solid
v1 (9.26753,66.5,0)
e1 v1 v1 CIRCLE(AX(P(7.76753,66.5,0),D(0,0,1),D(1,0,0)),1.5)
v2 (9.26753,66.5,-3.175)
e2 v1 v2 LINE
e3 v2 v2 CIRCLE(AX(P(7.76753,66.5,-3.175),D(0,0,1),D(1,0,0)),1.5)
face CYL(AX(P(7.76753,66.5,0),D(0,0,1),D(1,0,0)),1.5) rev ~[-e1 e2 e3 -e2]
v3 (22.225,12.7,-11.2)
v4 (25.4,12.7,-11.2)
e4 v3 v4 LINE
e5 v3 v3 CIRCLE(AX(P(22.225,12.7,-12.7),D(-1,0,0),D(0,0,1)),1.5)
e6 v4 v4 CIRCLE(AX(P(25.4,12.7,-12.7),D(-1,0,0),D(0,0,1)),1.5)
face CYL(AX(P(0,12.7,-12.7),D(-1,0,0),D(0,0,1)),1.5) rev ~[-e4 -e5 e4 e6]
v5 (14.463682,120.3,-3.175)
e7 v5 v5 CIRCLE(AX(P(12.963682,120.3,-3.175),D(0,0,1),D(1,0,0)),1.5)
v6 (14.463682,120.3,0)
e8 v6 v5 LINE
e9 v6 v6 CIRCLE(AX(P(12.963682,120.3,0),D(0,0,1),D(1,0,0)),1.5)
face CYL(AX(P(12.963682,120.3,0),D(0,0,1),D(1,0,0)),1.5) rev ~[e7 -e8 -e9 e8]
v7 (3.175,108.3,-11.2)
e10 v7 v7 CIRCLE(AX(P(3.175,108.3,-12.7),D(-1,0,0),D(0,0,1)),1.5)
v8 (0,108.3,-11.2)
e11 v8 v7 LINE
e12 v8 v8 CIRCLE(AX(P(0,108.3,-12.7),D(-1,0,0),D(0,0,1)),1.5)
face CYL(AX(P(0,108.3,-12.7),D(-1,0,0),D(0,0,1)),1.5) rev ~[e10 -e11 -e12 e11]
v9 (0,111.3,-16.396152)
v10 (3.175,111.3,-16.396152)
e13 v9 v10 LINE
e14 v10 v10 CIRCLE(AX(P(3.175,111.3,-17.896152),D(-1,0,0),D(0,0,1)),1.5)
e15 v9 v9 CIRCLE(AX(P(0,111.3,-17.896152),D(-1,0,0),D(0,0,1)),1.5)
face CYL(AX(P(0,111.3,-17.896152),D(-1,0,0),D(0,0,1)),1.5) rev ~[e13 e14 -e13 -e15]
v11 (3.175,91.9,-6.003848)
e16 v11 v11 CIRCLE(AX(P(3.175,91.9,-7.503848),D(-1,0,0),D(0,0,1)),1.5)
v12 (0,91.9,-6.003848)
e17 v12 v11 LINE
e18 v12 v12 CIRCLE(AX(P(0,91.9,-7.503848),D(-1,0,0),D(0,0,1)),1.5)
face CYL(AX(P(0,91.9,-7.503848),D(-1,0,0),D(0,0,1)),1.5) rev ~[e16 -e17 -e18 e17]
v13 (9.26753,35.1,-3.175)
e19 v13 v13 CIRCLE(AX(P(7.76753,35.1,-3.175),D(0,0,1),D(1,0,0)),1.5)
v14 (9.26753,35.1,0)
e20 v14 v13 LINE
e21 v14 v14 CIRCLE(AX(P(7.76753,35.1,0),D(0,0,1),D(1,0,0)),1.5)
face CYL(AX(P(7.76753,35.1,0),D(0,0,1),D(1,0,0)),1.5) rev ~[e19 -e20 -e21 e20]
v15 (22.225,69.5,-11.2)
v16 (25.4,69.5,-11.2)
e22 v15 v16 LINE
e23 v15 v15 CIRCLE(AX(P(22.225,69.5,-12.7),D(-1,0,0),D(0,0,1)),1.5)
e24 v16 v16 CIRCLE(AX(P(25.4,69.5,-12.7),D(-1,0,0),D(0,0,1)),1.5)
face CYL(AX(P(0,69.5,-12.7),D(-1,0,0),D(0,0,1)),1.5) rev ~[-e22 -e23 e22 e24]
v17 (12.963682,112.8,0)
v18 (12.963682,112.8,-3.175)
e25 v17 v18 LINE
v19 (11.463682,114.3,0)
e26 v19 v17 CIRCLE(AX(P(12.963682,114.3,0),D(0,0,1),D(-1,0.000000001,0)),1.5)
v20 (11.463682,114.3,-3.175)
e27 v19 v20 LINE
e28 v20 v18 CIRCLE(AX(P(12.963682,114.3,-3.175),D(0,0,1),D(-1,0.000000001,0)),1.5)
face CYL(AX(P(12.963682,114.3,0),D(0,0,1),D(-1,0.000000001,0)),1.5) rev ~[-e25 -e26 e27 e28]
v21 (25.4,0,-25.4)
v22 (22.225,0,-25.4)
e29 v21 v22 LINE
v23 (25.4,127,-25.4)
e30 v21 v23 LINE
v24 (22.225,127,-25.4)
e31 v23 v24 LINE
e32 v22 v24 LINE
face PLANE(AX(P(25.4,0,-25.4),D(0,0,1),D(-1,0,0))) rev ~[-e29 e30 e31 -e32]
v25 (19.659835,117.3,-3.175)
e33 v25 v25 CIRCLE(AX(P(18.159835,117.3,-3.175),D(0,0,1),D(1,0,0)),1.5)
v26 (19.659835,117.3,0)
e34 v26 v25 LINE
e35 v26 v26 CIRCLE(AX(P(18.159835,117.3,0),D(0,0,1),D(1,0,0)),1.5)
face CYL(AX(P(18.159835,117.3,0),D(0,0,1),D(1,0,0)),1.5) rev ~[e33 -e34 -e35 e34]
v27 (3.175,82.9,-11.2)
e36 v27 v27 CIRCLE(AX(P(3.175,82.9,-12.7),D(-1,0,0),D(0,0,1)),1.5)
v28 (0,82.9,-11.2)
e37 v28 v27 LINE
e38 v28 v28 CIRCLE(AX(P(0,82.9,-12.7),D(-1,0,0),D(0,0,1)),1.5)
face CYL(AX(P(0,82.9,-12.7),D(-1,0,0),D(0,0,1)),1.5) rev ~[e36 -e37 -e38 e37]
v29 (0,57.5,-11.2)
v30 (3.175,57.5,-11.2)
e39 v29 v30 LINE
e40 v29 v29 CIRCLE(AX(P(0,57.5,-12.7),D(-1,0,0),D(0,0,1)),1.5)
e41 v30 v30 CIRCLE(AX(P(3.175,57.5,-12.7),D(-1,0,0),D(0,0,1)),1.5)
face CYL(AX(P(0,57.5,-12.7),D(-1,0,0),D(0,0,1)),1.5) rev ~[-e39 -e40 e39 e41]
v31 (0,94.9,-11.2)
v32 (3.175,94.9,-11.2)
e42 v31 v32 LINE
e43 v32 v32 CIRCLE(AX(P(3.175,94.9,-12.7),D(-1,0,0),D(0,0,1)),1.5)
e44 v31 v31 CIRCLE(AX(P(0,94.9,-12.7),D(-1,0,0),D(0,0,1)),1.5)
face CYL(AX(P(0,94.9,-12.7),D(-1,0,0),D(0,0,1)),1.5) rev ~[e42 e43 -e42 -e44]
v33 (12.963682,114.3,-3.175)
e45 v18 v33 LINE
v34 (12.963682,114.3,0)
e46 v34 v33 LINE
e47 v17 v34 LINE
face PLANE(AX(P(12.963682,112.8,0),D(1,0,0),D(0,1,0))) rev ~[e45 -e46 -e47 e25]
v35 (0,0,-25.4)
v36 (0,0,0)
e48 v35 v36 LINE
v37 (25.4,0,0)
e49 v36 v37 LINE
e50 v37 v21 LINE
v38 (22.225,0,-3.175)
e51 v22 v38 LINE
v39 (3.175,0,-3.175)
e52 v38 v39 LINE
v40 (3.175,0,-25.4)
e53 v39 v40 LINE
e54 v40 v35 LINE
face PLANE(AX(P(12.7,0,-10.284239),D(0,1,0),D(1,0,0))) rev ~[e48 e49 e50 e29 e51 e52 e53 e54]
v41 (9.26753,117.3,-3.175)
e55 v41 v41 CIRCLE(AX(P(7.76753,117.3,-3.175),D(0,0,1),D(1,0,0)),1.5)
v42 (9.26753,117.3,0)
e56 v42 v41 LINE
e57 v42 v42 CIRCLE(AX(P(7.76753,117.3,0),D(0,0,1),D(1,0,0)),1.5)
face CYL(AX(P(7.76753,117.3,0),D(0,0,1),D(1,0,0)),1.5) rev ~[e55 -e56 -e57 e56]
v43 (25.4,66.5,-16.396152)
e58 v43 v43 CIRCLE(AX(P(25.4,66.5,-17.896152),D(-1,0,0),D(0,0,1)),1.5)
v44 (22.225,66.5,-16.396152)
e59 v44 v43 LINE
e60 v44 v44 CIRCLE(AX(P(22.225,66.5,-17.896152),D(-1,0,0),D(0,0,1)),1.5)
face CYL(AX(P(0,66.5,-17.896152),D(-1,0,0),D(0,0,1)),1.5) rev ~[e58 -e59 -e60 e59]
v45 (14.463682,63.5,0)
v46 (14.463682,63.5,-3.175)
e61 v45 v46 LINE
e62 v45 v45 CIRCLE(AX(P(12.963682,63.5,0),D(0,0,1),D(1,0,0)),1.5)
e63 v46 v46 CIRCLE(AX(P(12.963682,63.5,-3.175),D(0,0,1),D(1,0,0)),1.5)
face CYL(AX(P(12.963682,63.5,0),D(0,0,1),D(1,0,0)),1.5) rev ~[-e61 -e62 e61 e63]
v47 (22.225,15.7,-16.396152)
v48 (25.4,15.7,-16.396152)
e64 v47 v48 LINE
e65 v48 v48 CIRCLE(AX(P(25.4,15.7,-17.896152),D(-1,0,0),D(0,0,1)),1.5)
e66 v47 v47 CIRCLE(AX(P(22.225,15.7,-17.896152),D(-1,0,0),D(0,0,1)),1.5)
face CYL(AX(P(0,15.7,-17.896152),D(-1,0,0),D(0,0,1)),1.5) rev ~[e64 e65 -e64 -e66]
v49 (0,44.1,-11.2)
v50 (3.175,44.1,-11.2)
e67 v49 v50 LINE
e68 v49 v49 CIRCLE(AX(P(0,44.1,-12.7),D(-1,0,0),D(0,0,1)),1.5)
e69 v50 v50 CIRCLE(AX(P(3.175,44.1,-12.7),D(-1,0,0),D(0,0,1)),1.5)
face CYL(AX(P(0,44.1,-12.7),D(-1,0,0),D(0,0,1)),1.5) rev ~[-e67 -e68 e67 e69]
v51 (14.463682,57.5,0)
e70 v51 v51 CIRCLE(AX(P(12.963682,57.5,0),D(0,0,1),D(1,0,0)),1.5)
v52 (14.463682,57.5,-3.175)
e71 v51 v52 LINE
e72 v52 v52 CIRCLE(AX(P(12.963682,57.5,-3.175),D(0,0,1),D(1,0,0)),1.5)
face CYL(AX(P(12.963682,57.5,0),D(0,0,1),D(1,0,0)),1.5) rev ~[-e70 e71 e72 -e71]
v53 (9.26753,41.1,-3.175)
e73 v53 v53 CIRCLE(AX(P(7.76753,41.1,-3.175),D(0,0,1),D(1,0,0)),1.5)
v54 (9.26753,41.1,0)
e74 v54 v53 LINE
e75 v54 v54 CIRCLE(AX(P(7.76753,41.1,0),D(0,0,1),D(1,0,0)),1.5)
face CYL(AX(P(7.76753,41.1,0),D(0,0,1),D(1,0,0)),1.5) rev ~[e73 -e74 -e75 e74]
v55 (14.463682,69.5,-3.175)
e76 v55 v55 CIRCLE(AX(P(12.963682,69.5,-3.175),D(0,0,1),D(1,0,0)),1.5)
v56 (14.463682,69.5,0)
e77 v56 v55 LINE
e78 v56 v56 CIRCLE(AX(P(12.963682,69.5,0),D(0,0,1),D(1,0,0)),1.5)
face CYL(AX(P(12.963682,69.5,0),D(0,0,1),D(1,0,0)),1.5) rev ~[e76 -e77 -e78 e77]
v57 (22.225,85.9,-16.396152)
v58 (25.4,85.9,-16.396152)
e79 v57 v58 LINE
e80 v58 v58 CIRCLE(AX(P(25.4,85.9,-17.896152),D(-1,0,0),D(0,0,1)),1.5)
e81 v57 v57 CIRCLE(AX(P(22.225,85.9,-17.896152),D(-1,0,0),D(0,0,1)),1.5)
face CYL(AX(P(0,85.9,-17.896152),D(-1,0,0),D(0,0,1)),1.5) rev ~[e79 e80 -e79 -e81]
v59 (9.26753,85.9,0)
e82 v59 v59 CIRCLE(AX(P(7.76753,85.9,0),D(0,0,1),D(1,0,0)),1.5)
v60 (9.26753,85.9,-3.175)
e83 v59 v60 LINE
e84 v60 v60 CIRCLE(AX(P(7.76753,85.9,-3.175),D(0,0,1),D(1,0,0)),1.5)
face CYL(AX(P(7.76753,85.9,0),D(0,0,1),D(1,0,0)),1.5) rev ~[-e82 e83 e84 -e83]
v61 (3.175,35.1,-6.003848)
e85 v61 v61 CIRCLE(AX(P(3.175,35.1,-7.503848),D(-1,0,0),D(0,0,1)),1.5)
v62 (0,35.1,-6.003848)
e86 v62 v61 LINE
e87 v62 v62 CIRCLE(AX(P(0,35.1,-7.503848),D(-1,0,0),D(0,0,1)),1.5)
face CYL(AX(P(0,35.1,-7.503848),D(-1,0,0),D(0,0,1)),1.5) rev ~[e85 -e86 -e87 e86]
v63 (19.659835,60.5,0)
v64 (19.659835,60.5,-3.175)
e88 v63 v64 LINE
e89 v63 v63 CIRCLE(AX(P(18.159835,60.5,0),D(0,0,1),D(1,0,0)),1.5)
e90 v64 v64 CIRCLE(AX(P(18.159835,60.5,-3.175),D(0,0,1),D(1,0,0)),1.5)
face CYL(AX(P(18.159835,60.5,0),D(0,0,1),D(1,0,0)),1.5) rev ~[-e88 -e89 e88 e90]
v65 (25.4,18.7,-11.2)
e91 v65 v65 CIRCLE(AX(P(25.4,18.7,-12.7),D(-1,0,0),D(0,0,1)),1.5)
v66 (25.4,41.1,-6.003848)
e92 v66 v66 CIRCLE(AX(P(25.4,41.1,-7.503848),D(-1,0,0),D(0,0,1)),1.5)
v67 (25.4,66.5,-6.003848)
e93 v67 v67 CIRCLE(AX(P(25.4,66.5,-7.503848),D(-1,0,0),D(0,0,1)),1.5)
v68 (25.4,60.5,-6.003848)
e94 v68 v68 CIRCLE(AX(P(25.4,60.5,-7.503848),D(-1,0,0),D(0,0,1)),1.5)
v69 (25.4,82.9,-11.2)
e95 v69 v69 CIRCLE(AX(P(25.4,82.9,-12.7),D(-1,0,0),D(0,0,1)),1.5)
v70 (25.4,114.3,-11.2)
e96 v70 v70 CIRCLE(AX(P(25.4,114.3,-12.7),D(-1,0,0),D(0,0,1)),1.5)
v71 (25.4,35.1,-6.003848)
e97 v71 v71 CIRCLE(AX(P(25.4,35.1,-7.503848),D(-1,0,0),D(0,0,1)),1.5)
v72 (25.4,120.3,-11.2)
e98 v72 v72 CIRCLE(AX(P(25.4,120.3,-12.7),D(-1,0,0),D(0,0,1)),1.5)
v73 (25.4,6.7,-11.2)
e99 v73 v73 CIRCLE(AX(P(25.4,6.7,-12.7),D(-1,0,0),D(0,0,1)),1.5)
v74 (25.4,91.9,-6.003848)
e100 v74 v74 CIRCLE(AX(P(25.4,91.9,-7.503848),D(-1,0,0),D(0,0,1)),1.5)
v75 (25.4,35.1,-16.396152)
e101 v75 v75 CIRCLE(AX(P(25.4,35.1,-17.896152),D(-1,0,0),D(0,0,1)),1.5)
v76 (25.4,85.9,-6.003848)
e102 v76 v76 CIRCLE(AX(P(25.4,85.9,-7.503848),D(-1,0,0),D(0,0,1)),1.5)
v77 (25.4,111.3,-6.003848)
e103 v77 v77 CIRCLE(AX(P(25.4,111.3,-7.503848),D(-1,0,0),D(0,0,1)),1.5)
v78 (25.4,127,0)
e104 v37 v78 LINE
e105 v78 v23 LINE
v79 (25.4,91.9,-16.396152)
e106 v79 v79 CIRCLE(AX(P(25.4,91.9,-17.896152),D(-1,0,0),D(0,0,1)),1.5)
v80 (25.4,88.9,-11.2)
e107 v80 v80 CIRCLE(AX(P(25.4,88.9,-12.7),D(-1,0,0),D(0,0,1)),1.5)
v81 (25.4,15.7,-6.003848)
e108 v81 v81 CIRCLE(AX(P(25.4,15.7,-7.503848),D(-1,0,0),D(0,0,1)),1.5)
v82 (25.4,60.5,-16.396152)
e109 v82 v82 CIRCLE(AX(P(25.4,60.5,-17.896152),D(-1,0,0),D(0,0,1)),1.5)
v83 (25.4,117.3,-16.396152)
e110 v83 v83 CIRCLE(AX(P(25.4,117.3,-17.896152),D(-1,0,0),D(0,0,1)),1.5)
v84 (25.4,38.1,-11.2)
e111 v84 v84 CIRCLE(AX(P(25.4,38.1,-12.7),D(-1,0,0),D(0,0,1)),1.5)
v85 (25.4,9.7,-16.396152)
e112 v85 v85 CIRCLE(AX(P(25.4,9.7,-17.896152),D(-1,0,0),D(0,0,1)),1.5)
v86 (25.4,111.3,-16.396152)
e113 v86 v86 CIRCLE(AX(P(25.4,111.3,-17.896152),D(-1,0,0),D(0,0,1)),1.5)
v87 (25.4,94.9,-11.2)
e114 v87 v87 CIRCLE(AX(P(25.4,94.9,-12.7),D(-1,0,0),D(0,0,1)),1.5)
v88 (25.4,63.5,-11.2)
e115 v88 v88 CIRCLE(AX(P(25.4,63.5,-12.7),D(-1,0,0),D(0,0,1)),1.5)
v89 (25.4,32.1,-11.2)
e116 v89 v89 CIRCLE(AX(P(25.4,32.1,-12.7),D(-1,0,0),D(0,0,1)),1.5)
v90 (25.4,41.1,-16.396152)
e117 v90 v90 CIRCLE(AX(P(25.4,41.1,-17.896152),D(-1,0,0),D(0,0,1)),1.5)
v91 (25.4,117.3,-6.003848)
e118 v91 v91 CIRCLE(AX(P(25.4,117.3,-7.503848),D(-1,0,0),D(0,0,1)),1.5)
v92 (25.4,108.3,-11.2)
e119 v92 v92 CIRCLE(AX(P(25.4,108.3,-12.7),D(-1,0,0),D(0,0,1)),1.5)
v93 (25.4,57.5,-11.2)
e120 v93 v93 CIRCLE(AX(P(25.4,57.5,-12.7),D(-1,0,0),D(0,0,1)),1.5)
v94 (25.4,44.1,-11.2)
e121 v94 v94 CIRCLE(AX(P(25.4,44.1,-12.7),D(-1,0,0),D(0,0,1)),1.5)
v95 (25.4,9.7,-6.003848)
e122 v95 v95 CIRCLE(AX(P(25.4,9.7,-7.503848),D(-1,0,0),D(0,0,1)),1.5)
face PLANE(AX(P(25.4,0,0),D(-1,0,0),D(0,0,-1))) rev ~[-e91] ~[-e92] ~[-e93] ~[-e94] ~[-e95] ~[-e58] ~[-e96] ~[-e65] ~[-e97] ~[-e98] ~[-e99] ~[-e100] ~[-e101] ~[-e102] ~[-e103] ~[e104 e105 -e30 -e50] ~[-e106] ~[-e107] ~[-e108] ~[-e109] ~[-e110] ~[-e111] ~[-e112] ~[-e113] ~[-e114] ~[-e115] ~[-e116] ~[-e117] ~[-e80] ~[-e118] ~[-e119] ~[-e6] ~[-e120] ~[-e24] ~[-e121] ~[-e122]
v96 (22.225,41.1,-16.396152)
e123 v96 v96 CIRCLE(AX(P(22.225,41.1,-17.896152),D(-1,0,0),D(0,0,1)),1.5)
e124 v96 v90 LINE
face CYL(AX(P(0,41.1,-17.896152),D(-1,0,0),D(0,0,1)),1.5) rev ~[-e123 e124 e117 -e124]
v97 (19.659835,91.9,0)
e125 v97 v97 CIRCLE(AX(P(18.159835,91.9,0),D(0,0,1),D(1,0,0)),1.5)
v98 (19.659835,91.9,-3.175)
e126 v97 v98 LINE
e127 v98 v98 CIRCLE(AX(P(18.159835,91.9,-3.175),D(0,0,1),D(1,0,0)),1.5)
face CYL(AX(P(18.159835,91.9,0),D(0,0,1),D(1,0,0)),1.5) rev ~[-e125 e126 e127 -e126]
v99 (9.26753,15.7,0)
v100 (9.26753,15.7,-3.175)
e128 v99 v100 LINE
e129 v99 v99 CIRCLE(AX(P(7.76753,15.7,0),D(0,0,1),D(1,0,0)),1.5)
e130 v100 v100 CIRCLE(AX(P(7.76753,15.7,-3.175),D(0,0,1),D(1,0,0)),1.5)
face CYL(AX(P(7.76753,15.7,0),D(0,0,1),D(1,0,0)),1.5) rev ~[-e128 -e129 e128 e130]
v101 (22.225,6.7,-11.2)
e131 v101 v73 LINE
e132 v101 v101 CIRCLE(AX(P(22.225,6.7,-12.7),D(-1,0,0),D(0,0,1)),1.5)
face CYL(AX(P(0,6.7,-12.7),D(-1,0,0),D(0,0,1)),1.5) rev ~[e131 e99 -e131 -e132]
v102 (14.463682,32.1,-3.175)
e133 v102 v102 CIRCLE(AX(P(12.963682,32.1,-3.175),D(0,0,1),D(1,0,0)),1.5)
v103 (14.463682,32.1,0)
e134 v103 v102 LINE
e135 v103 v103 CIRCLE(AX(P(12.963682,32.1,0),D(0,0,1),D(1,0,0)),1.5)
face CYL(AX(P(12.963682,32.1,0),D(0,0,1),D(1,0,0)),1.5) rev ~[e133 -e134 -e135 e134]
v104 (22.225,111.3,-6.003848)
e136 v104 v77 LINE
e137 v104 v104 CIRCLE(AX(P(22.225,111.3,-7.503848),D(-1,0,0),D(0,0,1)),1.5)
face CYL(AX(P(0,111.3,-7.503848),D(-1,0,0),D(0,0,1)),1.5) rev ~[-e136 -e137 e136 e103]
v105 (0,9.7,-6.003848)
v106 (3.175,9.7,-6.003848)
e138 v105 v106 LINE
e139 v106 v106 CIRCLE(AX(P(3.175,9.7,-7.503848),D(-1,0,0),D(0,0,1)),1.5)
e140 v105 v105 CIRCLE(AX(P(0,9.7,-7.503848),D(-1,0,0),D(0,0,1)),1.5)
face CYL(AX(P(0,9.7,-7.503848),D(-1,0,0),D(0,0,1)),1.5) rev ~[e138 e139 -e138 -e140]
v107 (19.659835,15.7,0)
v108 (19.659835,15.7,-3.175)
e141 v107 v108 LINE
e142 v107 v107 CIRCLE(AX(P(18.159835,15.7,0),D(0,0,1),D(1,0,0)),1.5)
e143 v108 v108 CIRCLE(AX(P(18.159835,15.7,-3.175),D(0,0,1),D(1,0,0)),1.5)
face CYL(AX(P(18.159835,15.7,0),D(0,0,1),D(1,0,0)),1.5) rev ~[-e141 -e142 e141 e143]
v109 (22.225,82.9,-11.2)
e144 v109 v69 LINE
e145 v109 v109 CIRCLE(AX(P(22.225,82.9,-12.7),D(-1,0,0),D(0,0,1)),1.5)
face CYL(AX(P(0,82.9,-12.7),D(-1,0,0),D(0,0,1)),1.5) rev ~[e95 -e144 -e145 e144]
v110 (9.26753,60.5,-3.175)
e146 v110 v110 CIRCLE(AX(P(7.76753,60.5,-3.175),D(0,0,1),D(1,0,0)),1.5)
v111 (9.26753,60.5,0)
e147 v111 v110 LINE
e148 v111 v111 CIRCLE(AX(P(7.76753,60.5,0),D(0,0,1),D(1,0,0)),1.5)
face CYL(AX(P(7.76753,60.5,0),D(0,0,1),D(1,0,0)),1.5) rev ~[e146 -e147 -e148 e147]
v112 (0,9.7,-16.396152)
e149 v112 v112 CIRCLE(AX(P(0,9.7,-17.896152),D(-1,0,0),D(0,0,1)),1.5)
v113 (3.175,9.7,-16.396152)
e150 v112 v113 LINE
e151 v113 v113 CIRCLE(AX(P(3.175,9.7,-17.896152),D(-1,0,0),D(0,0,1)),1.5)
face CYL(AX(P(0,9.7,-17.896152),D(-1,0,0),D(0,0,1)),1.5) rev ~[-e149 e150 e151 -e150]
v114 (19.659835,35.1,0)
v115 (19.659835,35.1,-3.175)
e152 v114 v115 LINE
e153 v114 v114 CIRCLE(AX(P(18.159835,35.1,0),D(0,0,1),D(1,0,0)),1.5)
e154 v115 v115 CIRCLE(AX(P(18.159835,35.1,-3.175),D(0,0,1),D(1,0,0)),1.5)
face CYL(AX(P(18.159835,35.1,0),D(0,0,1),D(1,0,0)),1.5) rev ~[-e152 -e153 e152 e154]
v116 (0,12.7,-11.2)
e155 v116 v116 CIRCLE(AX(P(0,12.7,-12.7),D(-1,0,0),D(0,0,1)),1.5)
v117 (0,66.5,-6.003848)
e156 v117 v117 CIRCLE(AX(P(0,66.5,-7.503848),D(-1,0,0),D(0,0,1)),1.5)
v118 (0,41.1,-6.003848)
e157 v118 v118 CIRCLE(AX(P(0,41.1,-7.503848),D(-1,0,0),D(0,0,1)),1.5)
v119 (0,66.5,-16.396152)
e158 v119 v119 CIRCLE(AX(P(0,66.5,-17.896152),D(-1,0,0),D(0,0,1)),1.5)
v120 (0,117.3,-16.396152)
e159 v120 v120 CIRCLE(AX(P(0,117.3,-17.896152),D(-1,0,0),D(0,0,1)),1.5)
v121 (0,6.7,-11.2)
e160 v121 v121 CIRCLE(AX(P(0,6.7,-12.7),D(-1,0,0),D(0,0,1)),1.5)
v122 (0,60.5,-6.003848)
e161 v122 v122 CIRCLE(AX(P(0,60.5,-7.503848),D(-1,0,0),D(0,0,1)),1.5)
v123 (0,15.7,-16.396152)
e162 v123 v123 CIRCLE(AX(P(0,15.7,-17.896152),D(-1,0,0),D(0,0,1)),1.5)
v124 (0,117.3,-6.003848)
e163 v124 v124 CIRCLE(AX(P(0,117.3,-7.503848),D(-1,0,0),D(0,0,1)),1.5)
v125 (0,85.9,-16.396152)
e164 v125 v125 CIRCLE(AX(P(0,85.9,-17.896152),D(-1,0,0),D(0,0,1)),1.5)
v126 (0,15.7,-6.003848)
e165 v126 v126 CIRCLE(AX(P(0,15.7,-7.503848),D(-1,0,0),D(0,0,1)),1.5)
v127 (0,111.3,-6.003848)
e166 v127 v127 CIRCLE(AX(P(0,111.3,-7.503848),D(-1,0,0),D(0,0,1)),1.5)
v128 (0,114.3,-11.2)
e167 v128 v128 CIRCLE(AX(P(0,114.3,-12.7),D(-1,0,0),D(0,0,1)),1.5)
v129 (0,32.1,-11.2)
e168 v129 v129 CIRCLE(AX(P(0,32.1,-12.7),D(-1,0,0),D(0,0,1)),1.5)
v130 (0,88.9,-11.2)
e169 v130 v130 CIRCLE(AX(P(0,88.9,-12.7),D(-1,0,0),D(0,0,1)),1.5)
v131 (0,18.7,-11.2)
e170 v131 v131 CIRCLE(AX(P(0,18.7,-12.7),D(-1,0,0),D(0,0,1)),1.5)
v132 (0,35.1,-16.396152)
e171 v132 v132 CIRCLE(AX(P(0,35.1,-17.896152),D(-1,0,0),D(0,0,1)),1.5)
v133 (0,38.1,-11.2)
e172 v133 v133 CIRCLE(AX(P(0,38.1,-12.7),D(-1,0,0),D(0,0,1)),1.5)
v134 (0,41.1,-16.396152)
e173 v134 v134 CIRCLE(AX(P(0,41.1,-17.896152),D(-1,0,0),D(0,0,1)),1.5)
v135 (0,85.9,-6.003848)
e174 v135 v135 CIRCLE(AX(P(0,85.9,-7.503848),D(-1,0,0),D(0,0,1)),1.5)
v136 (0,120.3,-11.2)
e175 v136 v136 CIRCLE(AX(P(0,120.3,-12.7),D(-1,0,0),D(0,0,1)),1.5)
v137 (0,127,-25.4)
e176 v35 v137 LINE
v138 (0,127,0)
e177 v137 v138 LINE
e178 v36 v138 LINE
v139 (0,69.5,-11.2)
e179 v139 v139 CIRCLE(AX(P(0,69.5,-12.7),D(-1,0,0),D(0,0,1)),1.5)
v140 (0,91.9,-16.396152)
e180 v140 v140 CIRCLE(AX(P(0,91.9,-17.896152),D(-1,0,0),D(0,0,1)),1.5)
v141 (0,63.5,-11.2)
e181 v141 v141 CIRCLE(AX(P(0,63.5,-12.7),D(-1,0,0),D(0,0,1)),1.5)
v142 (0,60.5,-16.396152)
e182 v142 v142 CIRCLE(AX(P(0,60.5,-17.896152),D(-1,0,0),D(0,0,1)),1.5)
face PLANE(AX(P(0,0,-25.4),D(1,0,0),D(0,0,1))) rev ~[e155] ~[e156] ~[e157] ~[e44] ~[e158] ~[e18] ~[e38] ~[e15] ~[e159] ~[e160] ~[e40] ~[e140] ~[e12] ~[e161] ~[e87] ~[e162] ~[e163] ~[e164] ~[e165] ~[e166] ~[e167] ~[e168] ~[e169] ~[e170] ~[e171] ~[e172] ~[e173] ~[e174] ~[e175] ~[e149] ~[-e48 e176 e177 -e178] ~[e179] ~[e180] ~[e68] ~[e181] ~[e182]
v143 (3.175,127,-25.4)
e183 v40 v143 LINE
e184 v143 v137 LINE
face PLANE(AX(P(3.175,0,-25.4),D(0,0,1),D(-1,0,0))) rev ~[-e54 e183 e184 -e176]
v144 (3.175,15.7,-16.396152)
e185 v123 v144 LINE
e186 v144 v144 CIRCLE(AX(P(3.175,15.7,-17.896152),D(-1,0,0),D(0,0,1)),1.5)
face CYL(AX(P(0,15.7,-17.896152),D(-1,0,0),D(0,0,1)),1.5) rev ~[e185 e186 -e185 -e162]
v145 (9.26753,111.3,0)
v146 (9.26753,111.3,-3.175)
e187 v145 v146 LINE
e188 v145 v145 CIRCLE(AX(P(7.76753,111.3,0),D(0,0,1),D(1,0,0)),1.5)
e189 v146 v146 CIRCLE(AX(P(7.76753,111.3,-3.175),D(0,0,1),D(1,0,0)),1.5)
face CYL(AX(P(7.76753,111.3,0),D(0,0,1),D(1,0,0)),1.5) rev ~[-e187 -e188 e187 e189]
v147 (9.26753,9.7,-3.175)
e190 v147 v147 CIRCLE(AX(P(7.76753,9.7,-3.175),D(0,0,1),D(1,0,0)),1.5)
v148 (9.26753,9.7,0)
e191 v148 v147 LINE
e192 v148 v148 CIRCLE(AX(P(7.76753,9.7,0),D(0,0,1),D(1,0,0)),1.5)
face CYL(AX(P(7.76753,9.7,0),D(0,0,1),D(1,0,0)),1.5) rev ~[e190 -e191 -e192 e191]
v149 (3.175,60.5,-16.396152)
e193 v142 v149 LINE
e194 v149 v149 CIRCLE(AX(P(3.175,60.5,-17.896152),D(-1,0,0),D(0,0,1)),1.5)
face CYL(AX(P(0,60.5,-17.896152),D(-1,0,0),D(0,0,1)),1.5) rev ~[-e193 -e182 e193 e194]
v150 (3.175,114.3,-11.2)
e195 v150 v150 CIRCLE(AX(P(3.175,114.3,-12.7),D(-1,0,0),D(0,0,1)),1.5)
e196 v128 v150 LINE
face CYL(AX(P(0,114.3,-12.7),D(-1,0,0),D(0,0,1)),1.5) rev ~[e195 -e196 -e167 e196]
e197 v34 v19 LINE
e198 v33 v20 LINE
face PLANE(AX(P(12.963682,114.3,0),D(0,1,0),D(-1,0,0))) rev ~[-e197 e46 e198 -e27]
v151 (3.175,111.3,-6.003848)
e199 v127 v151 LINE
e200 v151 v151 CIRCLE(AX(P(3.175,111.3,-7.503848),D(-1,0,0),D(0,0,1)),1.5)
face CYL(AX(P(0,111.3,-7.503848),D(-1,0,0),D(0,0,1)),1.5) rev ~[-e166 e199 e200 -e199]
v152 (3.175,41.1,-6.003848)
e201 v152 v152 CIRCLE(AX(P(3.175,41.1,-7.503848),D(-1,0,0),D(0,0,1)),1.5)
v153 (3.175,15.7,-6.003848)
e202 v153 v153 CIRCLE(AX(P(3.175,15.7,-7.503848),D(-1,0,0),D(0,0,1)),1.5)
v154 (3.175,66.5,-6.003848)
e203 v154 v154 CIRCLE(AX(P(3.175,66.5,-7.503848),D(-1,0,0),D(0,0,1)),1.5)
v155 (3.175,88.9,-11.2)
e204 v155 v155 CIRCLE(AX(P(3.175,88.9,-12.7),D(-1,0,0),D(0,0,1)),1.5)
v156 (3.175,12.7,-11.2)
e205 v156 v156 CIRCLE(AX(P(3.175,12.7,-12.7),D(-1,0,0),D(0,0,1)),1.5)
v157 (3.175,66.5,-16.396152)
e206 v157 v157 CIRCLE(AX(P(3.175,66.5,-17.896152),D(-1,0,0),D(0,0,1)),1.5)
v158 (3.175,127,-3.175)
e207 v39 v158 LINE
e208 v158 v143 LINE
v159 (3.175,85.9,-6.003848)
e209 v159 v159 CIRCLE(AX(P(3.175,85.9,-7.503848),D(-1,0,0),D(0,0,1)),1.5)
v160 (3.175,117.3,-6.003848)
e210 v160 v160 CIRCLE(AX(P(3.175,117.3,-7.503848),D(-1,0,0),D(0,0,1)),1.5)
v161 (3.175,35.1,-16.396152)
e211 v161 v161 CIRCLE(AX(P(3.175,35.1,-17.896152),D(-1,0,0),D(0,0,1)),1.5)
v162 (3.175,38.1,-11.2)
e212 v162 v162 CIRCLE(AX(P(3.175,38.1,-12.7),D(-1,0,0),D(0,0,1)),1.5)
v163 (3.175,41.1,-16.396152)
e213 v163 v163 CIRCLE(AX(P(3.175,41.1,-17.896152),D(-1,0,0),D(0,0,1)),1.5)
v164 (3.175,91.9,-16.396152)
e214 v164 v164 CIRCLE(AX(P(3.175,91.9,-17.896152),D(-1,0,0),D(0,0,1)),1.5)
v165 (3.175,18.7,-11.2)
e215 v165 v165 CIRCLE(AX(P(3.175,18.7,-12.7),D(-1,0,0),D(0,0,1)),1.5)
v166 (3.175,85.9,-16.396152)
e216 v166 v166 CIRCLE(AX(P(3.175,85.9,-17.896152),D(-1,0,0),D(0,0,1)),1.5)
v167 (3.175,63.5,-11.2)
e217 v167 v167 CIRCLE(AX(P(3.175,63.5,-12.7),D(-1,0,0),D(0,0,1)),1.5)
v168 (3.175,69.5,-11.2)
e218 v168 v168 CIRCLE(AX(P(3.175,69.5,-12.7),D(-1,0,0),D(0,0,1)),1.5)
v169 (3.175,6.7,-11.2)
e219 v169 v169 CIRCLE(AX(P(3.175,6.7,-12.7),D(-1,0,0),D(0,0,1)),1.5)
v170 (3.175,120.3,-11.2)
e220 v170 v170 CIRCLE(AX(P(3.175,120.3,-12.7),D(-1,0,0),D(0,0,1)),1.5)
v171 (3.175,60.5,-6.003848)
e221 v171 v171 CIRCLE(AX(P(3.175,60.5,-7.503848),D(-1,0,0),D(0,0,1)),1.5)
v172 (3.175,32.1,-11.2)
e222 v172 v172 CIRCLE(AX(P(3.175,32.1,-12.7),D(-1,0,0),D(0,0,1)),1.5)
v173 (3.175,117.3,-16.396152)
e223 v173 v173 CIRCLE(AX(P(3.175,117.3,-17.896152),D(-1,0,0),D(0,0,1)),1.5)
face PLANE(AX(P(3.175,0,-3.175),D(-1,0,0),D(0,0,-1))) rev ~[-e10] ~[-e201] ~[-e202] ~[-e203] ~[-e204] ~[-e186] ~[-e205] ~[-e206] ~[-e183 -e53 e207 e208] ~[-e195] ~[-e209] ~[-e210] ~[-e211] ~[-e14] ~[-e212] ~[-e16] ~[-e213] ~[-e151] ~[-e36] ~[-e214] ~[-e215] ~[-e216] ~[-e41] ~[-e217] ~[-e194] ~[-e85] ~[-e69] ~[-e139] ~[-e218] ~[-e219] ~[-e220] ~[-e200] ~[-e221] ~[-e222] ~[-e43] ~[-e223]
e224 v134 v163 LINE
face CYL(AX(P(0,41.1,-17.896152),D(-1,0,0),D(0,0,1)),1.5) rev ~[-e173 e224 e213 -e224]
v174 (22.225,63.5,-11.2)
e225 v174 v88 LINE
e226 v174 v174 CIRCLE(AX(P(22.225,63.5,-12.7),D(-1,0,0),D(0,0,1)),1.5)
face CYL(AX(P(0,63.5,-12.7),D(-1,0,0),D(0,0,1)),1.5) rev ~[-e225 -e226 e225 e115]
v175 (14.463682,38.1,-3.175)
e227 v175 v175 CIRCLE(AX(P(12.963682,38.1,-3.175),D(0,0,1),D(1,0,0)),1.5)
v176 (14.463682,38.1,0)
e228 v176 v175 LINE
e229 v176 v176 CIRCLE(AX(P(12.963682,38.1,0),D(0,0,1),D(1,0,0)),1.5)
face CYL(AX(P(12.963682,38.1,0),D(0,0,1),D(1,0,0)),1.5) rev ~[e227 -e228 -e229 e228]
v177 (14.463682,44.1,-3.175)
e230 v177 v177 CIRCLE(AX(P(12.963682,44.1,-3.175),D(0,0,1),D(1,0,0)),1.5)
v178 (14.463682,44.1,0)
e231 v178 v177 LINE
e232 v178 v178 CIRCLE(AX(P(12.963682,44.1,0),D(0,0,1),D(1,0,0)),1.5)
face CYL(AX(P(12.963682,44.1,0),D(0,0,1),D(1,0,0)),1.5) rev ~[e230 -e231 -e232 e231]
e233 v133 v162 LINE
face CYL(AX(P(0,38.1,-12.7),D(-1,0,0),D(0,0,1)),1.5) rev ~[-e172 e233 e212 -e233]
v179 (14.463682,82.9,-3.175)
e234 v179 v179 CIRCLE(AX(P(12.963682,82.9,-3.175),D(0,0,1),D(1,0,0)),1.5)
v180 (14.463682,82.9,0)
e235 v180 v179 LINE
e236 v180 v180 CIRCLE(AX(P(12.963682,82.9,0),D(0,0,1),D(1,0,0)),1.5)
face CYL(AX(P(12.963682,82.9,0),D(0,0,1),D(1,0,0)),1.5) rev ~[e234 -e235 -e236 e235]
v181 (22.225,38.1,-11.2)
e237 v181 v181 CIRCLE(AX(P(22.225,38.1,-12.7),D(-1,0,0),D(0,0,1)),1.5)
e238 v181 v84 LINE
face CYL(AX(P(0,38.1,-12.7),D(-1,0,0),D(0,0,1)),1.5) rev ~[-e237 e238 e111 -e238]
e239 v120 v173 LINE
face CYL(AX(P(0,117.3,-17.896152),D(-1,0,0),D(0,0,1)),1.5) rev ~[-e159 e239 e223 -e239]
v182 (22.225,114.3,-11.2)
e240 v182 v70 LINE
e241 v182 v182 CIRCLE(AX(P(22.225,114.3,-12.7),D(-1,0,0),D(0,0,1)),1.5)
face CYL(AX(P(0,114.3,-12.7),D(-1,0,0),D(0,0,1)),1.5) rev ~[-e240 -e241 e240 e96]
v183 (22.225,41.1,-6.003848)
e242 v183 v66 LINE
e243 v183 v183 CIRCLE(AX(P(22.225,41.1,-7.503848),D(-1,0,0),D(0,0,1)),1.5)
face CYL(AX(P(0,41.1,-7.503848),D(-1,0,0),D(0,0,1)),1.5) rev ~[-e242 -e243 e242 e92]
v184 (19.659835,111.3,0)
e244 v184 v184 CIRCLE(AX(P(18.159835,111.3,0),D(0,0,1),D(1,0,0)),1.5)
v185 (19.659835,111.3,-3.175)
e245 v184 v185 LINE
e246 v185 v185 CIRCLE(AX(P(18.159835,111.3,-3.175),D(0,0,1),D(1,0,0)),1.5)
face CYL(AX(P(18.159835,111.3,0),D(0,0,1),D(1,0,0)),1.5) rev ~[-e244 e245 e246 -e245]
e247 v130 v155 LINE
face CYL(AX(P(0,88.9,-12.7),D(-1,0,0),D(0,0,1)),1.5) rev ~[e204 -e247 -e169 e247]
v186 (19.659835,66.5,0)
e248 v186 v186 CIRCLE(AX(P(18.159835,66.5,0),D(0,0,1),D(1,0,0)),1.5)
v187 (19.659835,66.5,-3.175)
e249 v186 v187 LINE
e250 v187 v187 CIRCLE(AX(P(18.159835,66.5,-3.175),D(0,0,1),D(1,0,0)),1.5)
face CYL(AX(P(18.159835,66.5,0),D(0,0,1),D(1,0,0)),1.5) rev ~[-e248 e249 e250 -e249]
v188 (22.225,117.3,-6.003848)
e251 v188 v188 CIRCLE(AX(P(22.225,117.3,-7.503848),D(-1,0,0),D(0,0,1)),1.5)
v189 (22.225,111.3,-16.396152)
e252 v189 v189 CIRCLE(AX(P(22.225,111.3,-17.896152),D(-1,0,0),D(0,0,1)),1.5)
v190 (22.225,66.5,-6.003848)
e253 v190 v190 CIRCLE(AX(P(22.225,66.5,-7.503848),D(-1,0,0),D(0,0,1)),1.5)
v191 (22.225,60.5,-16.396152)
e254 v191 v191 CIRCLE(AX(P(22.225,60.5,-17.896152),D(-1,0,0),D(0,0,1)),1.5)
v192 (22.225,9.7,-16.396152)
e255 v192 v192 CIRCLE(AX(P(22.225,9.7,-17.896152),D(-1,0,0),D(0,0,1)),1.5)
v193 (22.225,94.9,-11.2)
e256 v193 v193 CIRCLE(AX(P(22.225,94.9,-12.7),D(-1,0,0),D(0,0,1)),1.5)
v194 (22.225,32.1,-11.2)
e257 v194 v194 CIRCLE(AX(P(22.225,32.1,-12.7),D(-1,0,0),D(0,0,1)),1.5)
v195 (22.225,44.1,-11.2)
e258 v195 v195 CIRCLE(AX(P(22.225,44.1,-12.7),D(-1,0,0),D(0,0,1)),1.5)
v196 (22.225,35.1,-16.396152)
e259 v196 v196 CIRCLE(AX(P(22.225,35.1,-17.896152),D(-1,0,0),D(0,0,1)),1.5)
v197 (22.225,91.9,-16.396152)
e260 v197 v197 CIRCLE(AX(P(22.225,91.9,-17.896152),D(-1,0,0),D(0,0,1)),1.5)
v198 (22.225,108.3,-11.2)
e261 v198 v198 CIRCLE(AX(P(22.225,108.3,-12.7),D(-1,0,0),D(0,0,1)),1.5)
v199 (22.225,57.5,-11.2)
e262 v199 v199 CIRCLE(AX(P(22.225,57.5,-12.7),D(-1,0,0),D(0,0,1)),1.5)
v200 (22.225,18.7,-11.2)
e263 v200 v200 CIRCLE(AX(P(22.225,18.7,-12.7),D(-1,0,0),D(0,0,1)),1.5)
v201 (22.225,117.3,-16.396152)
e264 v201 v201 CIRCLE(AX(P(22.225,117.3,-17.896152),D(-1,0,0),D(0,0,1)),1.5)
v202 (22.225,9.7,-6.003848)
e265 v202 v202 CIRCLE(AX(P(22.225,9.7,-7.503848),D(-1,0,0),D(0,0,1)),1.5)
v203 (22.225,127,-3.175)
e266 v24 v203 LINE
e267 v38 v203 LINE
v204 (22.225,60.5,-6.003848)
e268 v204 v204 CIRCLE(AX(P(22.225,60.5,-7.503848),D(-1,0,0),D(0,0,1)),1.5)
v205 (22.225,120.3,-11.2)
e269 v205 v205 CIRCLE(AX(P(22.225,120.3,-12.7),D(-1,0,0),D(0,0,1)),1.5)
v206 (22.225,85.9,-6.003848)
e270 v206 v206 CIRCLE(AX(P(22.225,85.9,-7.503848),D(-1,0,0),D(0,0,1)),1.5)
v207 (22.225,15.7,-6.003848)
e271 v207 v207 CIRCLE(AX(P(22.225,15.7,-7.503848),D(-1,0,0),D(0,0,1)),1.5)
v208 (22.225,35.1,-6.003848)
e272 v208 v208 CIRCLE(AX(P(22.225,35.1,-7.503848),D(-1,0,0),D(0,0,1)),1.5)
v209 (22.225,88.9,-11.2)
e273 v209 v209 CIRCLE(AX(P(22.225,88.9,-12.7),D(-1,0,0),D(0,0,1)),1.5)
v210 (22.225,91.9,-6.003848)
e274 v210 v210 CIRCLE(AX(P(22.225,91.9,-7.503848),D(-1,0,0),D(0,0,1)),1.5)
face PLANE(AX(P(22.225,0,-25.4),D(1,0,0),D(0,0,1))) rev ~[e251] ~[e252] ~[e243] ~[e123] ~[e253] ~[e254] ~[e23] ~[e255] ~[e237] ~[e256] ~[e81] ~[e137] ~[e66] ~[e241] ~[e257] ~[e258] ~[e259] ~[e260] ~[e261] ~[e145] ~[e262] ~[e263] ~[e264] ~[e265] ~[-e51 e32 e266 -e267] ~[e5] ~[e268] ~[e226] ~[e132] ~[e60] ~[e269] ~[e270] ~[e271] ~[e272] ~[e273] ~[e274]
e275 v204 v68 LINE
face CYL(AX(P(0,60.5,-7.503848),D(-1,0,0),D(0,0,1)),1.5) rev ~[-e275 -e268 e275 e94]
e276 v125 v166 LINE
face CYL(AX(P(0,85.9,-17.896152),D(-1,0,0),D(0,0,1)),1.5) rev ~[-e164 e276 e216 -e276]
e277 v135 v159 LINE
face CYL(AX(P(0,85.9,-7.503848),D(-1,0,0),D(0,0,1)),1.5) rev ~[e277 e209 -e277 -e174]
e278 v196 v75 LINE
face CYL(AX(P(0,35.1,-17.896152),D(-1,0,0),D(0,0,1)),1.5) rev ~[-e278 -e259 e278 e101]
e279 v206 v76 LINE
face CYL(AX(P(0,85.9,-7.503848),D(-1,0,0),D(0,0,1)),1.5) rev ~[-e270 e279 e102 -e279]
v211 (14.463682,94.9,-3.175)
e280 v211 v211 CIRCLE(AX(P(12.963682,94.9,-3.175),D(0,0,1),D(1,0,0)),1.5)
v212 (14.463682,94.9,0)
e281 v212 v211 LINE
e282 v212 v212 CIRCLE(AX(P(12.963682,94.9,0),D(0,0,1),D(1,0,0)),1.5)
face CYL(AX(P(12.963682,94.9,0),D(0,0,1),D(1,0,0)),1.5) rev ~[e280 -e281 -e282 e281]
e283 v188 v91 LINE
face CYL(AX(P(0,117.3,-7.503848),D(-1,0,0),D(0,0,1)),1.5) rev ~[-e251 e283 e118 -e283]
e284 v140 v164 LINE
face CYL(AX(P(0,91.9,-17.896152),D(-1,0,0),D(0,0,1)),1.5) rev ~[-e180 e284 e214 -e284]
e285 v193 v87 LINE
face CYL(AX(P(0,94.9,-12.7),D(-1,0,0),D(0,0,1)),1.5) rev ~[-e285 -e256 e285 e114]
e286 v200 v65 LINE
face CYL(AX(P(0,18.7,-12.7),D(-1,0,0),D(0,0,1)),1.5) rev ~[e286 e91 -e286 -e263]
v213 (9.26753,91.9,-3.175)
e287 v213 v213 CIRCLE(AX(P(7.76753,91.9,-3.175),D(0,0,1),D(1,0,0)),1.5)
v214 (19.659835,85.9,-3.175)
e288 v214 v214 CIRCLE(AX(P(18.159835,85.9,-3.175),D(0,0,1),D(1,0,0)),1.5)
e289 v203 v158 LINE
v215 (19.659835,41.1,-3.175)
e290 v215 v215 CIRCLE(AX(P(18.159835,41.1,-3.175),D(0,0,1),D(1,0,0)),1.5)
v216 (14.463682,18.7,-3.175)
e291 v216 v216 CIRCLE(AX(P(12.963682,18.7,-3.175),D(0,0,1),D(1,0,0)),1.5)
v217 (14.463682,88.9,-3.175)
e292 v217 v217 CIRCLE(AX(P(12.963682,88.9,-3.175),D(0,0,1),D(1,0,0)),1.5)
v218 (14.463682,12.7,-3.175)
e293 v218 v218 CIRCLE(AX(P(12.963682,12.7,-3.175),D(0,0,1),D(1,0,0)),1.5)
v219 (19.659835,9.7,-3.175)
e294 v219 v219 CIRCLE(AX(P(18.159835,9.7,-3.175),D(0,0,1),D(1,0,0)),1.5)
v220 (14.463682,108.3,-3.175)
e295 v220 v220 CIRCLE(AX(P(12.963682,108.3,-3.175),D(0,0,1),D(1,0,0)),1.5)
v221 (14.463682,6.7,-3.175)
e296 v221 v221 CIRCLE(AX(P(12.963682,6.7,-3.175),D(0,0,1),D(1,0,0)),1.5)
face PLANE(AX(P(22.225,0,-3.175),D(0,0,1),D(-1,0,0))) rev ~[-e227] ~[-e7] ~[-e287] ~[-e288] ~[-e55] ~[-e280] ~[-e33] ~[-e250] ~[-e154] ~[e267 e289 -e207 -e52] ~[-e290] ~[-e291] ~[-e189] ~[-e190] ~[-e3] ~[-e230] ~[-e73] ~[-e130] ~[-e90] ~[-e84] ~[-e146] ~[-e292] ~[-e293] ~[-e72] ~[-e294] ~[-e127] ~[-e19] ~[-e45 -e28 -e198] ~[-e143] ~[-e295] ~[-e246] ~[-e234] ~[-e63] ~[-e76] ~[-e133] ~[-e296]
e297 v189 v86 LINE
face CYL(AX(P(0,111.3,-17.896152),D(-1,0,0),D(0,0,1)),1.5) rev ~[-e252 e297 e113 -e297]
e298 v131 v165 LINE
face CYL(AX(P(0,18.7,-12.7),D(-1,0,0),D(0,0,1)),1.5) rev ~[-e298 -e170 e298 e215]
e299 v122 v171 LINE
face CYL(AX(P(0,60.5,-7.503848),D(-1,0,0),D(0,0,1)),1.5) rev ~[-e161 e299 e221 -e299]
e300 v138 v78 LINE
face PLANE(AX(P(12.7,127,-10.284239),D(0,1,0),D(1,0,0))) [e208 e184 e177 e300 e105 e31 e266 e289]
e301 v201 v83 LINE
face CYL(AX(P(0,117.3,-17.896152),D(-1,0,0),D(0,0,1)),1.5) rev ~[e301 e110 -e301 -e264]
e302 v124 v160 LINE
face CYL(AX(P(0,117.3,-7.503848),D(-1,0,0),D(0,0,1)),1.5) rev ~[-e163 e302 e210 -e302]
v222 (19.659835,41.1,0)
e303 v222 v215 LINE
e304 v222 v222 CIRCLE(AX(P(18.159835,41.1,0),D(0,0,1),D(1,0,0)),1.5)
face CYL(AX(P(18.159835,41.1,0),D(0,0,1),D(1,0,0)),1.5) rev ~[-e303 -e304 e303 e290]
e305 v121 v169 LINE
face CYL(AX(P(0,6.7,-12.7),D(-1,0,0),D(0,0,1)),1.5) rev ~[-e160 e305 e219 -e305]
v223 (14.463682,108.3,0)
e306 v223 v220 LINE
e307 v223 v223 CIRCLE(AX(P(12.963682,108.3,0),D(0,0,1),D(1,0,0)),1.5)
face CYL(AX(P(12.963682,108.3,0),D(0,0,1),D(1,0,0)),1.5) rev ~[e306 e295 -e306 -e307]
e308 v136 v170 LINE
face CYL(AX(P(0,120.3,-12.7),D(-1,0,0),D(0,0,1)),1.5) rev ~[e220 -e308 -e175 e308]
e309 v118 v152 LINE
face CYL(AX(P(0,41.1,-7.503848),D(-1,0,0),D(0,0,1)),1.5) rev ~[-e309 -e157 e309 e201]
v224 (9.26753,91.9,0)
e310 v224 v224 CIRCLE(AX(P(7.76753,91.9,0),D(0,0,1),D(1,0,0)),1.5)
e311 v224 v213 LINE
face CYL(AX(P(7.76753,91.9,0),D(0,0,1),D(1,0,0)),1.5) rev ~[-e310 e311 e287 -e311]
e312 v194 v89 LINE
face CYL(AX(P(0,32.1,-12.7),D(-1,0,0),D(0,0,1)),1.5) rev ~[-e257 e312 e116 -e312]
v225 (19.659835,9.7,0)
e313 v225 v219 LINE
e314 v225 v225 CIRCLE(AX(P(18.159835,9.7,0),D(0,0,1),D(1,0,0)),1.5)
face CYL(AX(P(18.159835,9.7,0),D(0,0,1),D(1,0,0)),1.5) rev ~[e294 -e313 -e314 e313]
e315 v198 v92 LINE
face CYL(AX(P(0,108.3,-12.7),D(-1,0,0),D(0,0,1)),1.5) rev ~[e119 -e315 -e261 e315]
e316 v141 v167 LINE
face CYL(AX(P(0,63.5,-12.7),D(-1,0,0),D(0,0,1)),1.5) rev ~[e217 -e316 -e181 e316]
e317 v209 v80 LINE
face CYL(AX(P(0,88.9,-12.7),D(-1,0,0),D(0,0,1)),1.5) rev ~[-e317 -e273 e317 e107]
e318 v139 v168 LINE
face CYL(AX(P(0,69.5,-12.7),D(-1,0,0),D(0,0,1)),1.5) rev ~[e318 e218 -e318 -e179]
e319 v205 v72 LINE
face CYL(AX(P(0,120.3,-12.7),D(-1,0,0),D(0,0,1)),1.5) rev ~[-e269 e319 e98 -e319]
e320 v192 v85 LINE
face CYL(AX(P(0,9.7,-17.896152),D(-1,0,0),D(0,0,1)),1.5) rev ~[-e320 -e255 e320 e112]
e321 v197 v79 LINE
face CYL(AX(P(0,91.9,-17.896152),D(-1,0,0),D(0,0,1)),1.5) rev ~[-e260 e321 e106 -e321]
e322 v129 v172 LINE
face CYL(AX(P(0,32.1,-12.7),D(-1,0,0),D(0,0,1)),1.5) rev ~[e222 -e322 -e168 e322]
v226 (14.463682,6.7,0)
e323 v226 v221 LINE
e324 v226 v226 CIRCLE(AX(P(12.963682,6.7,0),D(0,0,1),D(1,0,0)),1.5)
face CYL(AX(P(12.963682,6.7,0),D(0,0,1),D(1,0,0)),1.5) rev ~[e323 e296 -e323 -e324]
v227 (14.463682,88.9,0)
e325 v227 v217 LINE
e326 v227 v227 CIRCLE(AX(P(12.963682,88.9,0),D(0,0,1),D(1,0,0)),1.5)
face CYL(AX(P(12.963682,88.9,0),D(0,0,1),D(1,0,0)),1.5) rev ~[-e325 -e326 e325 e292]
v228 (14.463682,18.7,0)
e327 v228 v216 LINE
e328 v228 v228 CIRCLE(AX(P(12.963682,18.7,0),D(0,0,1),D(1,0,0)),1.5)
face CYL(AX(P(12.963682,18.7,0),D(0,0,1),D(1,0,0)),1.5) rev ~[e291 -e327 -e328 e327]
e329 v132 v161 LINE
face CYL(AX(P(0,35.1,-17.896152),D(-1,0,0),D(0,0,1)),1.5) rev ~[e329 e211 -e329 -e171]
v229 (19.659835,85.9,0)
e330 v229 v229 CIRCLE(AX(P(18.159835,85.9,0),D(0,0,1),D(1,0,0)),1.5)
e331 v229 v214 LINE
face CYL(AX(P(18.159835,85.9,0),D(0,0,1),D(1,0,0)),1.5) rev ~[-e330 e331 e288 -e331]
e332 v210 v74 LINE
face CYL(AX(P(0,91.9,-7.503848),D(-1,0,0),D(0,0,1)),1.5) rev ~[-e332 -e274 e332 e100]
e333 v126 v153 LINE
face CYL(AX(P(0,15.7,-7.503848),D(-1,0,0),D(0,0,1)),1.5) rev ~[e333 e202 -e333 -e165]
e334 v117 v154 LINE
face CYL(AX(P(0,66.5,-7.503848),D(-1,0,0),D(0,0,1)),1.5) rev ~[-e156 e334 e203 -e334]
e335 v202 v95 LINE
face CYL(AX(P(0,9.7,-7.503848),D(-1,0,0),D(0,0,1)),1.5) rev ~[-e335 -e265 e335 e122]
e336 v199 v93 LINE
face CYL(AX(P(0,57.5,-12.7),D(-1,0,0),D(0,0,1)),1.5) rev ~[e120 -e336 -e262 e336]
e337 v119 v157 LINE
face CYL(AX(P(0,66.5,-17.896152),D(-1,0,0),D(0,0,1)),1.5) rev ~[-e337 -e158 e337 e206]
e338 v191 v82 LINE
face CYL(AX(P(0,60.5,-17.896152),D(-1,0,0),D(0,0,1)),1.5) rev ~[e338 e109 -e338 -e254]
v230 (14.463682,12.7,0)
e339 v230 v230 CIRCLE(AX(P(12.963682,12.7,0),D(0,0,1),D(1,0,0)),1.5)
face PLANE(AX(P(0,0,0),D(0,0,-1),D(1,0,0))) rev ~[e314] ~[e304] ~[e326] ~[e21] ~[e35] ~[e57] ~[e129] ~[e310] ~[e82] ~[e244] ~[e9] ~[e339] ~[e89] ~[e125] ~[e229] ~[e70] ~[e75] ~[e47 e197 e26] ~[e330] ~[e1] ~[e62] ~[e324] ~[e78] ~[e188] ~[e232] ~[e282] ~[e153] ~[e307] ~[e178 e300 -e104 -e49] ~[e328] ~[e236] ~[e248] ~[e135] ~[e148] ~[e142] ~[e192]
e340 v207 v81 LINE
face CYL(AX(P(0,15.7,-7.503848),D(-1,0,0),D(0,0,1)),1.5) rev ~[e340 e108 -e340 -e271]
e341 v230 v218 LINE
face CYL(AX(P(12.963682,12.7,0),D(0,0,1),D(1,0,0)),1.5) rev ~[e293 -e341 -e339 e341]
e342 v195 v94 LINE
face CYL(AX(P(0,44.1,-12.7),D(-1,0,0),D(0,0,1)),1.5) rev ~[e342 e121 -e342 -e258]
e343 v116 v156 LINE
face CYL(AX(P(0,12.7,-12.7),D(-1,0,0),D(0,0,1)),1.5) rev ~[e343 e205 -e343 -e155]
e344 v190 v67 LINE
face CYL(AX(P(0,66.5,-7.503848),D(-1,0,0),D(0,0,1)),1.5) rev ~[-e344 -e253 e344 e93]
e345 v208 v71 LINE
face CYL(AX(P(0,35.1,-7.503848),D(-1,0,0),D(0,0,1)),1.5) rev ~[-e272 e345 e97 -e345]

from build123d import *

# Parameters (mm, degrees)
BOSS_EXTRUDE1_DEPTH = 127
SKETCH3_R           = 1.5
CUT_EXTRUDE1_DEPTH  = 132.982271537
SKETCH4_R           = 1.5
CUT_EXTRUDE2_DEPTH  = 10


with BuildPart() as part:
    # Sketch2 → Boss-Extrude1 (new body)
    with BuildSketch(Plane(origin=(0, 0, 0), x_dir=(1, 0, 0), z_dir=(0, 1, 0))):
        Polygon((22.225, 3.175), (12.7, 3.175), (3.175, 3.175), (3.175, 25.4), (0, 25.4), (0, 0), (25.4, 0), (25.4, 25.4), (22.225, 25.4), align=None)
    extrude(amount=BOSS_EXTRUDE1_DEPTH)

    # Sketch3 → Cut-Extrude1 (cut, through all)
    with BuildSketch(Plane.ZY):
        with Locations((-17.896152423, 9.7)):
            Circle(SKETCH3_R)
        with Locations((-17.896152423, 15.7)):
            Circle(SKETCH3_R)
        with Locations((-12.7, 18.7)):
            Circle(SKETCH3_R)
        with Locations((-12.7, 12.7)):
            Circle(SKETCH3_R)
        with Locations((-12.7, 6.7)):
            Circle(SKETCH3_R)
        with Locations((-7.503847577, 9.7)):
            Circle(SKETCH3_R)
        with Locations((-7.503847577, 15.7)):
            Circle(SKETCH3_R)
        with Locations((-17.896152423, 35.1)):
            Circle(SKETCH3_R)
        with Locations((-17.896152423, 41.1)):
            Circle(SKETCH3_R)
        with Locations((-12.7, 44.1)):
            Circle(SKETCH3_R)
        with Locations((-12.7, 38.1)):
            Circle(SKETCH3_R)
        with Locations((-7.503847577, 35.1)):
            Circle(SKETCH3_R)
        with Locations((-7.503847577, 41.1)):
            Circle(SKETCH3_R)
        with Locations((-12.7, 57.5)):
            Circle(SKETCH3_R)
        with Locations((-12.7, 63.5)):
            Circle(SKETCH3_R)
        with Locations((-12.7, 32.1)):
            Circle(SKETCH3_R)
        with Locations((-17.896152423, 60.5)):
            Circle(SKETCH3_R)
        with Locations((-17.896152423, 66.5)):
            Circle(SKETCH3_R)
        with Locations((-12.7, 69.5)):
            Circle(SKETCH3_R)
        with Locations((-7.503847577, 66.5)):
            Circle(SKETCH3_R)
        with Locations((-7.503847577, 60.5)):
            Circle(SKETCH3_R)
        with Locations((-17.896152423, 85.9)):
            Circle(SKETCH3_R)
        with Locations((-17.896152423, 91.9)):
            Circle(SKETCH3_R)
        with Locations((-12.7, 82.9)):
            Circle(SKETCH3_R)
        with Locations((-12.7, 88.9)):
            Circle(SKETCH3_R)
        with Locations((-7.503847577, 85.9)):
            Circle(SKETCH3_R)
        with Locations((-7.503847577, 91.9)):
            Circle(SKETCH3_R)
        with Locations((-12.7, 94.9)):
            Circle(SKETCH3_R)
        with Locations((-17.896152423, 111.3)):
            Circle(SKETCH3_R)
        with Locations((-12.7, 108.3)):
            Circle(SKETCH3_R)
        with Locations((-17.896152423, 117.3)):
            Circle(SKETCH3_R)
        with Locations((-12.7, 120.3)):
            Circle(SKETCH3_R)
        with Locations((-12.7, 114.3)):
            Circle(SKETCH3_R)
        with Locations((-7.503847577, 111.3)):
            Circle(SKETCH3_R)
        with Locations((-7.503847577, 117.3)):
            Circle(SKETCH3_R)
    extrude(amount=-CUT_EXTRUDE1_DEPTH, mode=Mode.SUBTRACT)

    # Sketch4 → Cut-Extrude2 (cut)
    with BuildSketch(Plane.XY):
        with BuildLine():
            Line((12.963682416, 112.8), (12.963682416, 114.3))
            Line((12.963682416, 114.3), (11.463682416, 114.3))
            ThreePointArc((11.463682416, 114.3), (11.903022244, 113.239339828), (12.963682416, 112.8))
        make_face()
        with Locations((12.963682416, 108.3)):
            Circle(SKETCH4_R)
        with Locations((7.767529993, 111.3)):
            Circle(SKETCH4_R)
        with Locations((7.767529993, 117.3)):
            Circle(SKETCH4_R)
        with Locations((12.963682416, 120.3)):
            Circle(SKETCH4_R)
        with Locations((18.159834839, 117.3)):
            Circle(SKETCH4_R)
        with Locations((18.159834839, 111.3)):
            Circle(SKETCH4_R)
        with Locations((12.963682416, 82.9)):
            Circle(SKETCH4_R)
        with Locations((12.963682416, 88.9)):
            Circle(SKETCH4_R)
        with Locations((12.963682416, 94.9)):
            Circle(SKETCH4_R)
        with Locations((18.159834839, 91.9)):
            Circle(SKETCH4_R)
        with Locations((18.159834839, 85.9)):
            Circle(SKETCH4_R)
        with Locations((7.767529993, 91.9)):
            Circle(SKETCH4_R)
        with Locations((7.767529993, 85.9)):
            Circle(SKETCH4_R)
        with Locations((12.963682416, 57.5)):
            Circle(SKETCH4_R)
        with Locations((12.963682416, 63.5)):
            Circle(SKETCH4_R)
        with Locations((12.963682416, 69.5)):
            Circle(SKETCH4_R)
        with Locations((18.159834839, 66.5)):
            Circle(SKETCH4_R)
        with Locations((18.159834839, 60.5)):
            Circle(SKETCH4_R)
        with Locations((7.767529993, 66.5)):
            Circle(SKETCH4_R)
        with Locations((7.767529993, 60.5)):
            Circle(SKETCH4_R)
        with Locations((12.963682416, 32.1)):
            Circle(SKETCH4_R)
        with Locations((12.963682416, 38.1)):
            Circle(SKETCH4_R)
        with Locations((12.963682416, 44.1)):
            Circle(SKETCH4_R)
        with Locations((18.159834839, 41.1)):
            Circle(SKETCH4_R)
        with Locations((18.159834839, 35.1)):
            Circle(SKETCH4_R)
        with Locations((7.767529993, 41.1)):
            Circle(SKETCH4_R)
        with Locations((7.767529993, 35.1)):
            Circle(SKETCH4_R)
        with Locations((12.963682416, 6.7)):
            Circle(SKETCH4_R)
        with Locations((12.963682416, 12.7)):
            Circle(SKETCH4_R)
        with Locations((12.963682416, 18.7)):
            Circle(SKETCH4_R)
        with Locations((18.159834839, 15.7)):
            Circle(SKETCH4_R)
        with Locations((18.159834839, 9.7)):
            Circle(SKETCH4_R)
        with Locations((7.767529993, 15.7)):
            Circle(SKETCH4_R)
        with Locations((7.767529993, 9.7)):
            Circle(SKETCH4_R)
    extrude(amount=-CUT_EXTRUDE2_DEPTH, mode=Mode.SUBTRACT)


solid = part.part
